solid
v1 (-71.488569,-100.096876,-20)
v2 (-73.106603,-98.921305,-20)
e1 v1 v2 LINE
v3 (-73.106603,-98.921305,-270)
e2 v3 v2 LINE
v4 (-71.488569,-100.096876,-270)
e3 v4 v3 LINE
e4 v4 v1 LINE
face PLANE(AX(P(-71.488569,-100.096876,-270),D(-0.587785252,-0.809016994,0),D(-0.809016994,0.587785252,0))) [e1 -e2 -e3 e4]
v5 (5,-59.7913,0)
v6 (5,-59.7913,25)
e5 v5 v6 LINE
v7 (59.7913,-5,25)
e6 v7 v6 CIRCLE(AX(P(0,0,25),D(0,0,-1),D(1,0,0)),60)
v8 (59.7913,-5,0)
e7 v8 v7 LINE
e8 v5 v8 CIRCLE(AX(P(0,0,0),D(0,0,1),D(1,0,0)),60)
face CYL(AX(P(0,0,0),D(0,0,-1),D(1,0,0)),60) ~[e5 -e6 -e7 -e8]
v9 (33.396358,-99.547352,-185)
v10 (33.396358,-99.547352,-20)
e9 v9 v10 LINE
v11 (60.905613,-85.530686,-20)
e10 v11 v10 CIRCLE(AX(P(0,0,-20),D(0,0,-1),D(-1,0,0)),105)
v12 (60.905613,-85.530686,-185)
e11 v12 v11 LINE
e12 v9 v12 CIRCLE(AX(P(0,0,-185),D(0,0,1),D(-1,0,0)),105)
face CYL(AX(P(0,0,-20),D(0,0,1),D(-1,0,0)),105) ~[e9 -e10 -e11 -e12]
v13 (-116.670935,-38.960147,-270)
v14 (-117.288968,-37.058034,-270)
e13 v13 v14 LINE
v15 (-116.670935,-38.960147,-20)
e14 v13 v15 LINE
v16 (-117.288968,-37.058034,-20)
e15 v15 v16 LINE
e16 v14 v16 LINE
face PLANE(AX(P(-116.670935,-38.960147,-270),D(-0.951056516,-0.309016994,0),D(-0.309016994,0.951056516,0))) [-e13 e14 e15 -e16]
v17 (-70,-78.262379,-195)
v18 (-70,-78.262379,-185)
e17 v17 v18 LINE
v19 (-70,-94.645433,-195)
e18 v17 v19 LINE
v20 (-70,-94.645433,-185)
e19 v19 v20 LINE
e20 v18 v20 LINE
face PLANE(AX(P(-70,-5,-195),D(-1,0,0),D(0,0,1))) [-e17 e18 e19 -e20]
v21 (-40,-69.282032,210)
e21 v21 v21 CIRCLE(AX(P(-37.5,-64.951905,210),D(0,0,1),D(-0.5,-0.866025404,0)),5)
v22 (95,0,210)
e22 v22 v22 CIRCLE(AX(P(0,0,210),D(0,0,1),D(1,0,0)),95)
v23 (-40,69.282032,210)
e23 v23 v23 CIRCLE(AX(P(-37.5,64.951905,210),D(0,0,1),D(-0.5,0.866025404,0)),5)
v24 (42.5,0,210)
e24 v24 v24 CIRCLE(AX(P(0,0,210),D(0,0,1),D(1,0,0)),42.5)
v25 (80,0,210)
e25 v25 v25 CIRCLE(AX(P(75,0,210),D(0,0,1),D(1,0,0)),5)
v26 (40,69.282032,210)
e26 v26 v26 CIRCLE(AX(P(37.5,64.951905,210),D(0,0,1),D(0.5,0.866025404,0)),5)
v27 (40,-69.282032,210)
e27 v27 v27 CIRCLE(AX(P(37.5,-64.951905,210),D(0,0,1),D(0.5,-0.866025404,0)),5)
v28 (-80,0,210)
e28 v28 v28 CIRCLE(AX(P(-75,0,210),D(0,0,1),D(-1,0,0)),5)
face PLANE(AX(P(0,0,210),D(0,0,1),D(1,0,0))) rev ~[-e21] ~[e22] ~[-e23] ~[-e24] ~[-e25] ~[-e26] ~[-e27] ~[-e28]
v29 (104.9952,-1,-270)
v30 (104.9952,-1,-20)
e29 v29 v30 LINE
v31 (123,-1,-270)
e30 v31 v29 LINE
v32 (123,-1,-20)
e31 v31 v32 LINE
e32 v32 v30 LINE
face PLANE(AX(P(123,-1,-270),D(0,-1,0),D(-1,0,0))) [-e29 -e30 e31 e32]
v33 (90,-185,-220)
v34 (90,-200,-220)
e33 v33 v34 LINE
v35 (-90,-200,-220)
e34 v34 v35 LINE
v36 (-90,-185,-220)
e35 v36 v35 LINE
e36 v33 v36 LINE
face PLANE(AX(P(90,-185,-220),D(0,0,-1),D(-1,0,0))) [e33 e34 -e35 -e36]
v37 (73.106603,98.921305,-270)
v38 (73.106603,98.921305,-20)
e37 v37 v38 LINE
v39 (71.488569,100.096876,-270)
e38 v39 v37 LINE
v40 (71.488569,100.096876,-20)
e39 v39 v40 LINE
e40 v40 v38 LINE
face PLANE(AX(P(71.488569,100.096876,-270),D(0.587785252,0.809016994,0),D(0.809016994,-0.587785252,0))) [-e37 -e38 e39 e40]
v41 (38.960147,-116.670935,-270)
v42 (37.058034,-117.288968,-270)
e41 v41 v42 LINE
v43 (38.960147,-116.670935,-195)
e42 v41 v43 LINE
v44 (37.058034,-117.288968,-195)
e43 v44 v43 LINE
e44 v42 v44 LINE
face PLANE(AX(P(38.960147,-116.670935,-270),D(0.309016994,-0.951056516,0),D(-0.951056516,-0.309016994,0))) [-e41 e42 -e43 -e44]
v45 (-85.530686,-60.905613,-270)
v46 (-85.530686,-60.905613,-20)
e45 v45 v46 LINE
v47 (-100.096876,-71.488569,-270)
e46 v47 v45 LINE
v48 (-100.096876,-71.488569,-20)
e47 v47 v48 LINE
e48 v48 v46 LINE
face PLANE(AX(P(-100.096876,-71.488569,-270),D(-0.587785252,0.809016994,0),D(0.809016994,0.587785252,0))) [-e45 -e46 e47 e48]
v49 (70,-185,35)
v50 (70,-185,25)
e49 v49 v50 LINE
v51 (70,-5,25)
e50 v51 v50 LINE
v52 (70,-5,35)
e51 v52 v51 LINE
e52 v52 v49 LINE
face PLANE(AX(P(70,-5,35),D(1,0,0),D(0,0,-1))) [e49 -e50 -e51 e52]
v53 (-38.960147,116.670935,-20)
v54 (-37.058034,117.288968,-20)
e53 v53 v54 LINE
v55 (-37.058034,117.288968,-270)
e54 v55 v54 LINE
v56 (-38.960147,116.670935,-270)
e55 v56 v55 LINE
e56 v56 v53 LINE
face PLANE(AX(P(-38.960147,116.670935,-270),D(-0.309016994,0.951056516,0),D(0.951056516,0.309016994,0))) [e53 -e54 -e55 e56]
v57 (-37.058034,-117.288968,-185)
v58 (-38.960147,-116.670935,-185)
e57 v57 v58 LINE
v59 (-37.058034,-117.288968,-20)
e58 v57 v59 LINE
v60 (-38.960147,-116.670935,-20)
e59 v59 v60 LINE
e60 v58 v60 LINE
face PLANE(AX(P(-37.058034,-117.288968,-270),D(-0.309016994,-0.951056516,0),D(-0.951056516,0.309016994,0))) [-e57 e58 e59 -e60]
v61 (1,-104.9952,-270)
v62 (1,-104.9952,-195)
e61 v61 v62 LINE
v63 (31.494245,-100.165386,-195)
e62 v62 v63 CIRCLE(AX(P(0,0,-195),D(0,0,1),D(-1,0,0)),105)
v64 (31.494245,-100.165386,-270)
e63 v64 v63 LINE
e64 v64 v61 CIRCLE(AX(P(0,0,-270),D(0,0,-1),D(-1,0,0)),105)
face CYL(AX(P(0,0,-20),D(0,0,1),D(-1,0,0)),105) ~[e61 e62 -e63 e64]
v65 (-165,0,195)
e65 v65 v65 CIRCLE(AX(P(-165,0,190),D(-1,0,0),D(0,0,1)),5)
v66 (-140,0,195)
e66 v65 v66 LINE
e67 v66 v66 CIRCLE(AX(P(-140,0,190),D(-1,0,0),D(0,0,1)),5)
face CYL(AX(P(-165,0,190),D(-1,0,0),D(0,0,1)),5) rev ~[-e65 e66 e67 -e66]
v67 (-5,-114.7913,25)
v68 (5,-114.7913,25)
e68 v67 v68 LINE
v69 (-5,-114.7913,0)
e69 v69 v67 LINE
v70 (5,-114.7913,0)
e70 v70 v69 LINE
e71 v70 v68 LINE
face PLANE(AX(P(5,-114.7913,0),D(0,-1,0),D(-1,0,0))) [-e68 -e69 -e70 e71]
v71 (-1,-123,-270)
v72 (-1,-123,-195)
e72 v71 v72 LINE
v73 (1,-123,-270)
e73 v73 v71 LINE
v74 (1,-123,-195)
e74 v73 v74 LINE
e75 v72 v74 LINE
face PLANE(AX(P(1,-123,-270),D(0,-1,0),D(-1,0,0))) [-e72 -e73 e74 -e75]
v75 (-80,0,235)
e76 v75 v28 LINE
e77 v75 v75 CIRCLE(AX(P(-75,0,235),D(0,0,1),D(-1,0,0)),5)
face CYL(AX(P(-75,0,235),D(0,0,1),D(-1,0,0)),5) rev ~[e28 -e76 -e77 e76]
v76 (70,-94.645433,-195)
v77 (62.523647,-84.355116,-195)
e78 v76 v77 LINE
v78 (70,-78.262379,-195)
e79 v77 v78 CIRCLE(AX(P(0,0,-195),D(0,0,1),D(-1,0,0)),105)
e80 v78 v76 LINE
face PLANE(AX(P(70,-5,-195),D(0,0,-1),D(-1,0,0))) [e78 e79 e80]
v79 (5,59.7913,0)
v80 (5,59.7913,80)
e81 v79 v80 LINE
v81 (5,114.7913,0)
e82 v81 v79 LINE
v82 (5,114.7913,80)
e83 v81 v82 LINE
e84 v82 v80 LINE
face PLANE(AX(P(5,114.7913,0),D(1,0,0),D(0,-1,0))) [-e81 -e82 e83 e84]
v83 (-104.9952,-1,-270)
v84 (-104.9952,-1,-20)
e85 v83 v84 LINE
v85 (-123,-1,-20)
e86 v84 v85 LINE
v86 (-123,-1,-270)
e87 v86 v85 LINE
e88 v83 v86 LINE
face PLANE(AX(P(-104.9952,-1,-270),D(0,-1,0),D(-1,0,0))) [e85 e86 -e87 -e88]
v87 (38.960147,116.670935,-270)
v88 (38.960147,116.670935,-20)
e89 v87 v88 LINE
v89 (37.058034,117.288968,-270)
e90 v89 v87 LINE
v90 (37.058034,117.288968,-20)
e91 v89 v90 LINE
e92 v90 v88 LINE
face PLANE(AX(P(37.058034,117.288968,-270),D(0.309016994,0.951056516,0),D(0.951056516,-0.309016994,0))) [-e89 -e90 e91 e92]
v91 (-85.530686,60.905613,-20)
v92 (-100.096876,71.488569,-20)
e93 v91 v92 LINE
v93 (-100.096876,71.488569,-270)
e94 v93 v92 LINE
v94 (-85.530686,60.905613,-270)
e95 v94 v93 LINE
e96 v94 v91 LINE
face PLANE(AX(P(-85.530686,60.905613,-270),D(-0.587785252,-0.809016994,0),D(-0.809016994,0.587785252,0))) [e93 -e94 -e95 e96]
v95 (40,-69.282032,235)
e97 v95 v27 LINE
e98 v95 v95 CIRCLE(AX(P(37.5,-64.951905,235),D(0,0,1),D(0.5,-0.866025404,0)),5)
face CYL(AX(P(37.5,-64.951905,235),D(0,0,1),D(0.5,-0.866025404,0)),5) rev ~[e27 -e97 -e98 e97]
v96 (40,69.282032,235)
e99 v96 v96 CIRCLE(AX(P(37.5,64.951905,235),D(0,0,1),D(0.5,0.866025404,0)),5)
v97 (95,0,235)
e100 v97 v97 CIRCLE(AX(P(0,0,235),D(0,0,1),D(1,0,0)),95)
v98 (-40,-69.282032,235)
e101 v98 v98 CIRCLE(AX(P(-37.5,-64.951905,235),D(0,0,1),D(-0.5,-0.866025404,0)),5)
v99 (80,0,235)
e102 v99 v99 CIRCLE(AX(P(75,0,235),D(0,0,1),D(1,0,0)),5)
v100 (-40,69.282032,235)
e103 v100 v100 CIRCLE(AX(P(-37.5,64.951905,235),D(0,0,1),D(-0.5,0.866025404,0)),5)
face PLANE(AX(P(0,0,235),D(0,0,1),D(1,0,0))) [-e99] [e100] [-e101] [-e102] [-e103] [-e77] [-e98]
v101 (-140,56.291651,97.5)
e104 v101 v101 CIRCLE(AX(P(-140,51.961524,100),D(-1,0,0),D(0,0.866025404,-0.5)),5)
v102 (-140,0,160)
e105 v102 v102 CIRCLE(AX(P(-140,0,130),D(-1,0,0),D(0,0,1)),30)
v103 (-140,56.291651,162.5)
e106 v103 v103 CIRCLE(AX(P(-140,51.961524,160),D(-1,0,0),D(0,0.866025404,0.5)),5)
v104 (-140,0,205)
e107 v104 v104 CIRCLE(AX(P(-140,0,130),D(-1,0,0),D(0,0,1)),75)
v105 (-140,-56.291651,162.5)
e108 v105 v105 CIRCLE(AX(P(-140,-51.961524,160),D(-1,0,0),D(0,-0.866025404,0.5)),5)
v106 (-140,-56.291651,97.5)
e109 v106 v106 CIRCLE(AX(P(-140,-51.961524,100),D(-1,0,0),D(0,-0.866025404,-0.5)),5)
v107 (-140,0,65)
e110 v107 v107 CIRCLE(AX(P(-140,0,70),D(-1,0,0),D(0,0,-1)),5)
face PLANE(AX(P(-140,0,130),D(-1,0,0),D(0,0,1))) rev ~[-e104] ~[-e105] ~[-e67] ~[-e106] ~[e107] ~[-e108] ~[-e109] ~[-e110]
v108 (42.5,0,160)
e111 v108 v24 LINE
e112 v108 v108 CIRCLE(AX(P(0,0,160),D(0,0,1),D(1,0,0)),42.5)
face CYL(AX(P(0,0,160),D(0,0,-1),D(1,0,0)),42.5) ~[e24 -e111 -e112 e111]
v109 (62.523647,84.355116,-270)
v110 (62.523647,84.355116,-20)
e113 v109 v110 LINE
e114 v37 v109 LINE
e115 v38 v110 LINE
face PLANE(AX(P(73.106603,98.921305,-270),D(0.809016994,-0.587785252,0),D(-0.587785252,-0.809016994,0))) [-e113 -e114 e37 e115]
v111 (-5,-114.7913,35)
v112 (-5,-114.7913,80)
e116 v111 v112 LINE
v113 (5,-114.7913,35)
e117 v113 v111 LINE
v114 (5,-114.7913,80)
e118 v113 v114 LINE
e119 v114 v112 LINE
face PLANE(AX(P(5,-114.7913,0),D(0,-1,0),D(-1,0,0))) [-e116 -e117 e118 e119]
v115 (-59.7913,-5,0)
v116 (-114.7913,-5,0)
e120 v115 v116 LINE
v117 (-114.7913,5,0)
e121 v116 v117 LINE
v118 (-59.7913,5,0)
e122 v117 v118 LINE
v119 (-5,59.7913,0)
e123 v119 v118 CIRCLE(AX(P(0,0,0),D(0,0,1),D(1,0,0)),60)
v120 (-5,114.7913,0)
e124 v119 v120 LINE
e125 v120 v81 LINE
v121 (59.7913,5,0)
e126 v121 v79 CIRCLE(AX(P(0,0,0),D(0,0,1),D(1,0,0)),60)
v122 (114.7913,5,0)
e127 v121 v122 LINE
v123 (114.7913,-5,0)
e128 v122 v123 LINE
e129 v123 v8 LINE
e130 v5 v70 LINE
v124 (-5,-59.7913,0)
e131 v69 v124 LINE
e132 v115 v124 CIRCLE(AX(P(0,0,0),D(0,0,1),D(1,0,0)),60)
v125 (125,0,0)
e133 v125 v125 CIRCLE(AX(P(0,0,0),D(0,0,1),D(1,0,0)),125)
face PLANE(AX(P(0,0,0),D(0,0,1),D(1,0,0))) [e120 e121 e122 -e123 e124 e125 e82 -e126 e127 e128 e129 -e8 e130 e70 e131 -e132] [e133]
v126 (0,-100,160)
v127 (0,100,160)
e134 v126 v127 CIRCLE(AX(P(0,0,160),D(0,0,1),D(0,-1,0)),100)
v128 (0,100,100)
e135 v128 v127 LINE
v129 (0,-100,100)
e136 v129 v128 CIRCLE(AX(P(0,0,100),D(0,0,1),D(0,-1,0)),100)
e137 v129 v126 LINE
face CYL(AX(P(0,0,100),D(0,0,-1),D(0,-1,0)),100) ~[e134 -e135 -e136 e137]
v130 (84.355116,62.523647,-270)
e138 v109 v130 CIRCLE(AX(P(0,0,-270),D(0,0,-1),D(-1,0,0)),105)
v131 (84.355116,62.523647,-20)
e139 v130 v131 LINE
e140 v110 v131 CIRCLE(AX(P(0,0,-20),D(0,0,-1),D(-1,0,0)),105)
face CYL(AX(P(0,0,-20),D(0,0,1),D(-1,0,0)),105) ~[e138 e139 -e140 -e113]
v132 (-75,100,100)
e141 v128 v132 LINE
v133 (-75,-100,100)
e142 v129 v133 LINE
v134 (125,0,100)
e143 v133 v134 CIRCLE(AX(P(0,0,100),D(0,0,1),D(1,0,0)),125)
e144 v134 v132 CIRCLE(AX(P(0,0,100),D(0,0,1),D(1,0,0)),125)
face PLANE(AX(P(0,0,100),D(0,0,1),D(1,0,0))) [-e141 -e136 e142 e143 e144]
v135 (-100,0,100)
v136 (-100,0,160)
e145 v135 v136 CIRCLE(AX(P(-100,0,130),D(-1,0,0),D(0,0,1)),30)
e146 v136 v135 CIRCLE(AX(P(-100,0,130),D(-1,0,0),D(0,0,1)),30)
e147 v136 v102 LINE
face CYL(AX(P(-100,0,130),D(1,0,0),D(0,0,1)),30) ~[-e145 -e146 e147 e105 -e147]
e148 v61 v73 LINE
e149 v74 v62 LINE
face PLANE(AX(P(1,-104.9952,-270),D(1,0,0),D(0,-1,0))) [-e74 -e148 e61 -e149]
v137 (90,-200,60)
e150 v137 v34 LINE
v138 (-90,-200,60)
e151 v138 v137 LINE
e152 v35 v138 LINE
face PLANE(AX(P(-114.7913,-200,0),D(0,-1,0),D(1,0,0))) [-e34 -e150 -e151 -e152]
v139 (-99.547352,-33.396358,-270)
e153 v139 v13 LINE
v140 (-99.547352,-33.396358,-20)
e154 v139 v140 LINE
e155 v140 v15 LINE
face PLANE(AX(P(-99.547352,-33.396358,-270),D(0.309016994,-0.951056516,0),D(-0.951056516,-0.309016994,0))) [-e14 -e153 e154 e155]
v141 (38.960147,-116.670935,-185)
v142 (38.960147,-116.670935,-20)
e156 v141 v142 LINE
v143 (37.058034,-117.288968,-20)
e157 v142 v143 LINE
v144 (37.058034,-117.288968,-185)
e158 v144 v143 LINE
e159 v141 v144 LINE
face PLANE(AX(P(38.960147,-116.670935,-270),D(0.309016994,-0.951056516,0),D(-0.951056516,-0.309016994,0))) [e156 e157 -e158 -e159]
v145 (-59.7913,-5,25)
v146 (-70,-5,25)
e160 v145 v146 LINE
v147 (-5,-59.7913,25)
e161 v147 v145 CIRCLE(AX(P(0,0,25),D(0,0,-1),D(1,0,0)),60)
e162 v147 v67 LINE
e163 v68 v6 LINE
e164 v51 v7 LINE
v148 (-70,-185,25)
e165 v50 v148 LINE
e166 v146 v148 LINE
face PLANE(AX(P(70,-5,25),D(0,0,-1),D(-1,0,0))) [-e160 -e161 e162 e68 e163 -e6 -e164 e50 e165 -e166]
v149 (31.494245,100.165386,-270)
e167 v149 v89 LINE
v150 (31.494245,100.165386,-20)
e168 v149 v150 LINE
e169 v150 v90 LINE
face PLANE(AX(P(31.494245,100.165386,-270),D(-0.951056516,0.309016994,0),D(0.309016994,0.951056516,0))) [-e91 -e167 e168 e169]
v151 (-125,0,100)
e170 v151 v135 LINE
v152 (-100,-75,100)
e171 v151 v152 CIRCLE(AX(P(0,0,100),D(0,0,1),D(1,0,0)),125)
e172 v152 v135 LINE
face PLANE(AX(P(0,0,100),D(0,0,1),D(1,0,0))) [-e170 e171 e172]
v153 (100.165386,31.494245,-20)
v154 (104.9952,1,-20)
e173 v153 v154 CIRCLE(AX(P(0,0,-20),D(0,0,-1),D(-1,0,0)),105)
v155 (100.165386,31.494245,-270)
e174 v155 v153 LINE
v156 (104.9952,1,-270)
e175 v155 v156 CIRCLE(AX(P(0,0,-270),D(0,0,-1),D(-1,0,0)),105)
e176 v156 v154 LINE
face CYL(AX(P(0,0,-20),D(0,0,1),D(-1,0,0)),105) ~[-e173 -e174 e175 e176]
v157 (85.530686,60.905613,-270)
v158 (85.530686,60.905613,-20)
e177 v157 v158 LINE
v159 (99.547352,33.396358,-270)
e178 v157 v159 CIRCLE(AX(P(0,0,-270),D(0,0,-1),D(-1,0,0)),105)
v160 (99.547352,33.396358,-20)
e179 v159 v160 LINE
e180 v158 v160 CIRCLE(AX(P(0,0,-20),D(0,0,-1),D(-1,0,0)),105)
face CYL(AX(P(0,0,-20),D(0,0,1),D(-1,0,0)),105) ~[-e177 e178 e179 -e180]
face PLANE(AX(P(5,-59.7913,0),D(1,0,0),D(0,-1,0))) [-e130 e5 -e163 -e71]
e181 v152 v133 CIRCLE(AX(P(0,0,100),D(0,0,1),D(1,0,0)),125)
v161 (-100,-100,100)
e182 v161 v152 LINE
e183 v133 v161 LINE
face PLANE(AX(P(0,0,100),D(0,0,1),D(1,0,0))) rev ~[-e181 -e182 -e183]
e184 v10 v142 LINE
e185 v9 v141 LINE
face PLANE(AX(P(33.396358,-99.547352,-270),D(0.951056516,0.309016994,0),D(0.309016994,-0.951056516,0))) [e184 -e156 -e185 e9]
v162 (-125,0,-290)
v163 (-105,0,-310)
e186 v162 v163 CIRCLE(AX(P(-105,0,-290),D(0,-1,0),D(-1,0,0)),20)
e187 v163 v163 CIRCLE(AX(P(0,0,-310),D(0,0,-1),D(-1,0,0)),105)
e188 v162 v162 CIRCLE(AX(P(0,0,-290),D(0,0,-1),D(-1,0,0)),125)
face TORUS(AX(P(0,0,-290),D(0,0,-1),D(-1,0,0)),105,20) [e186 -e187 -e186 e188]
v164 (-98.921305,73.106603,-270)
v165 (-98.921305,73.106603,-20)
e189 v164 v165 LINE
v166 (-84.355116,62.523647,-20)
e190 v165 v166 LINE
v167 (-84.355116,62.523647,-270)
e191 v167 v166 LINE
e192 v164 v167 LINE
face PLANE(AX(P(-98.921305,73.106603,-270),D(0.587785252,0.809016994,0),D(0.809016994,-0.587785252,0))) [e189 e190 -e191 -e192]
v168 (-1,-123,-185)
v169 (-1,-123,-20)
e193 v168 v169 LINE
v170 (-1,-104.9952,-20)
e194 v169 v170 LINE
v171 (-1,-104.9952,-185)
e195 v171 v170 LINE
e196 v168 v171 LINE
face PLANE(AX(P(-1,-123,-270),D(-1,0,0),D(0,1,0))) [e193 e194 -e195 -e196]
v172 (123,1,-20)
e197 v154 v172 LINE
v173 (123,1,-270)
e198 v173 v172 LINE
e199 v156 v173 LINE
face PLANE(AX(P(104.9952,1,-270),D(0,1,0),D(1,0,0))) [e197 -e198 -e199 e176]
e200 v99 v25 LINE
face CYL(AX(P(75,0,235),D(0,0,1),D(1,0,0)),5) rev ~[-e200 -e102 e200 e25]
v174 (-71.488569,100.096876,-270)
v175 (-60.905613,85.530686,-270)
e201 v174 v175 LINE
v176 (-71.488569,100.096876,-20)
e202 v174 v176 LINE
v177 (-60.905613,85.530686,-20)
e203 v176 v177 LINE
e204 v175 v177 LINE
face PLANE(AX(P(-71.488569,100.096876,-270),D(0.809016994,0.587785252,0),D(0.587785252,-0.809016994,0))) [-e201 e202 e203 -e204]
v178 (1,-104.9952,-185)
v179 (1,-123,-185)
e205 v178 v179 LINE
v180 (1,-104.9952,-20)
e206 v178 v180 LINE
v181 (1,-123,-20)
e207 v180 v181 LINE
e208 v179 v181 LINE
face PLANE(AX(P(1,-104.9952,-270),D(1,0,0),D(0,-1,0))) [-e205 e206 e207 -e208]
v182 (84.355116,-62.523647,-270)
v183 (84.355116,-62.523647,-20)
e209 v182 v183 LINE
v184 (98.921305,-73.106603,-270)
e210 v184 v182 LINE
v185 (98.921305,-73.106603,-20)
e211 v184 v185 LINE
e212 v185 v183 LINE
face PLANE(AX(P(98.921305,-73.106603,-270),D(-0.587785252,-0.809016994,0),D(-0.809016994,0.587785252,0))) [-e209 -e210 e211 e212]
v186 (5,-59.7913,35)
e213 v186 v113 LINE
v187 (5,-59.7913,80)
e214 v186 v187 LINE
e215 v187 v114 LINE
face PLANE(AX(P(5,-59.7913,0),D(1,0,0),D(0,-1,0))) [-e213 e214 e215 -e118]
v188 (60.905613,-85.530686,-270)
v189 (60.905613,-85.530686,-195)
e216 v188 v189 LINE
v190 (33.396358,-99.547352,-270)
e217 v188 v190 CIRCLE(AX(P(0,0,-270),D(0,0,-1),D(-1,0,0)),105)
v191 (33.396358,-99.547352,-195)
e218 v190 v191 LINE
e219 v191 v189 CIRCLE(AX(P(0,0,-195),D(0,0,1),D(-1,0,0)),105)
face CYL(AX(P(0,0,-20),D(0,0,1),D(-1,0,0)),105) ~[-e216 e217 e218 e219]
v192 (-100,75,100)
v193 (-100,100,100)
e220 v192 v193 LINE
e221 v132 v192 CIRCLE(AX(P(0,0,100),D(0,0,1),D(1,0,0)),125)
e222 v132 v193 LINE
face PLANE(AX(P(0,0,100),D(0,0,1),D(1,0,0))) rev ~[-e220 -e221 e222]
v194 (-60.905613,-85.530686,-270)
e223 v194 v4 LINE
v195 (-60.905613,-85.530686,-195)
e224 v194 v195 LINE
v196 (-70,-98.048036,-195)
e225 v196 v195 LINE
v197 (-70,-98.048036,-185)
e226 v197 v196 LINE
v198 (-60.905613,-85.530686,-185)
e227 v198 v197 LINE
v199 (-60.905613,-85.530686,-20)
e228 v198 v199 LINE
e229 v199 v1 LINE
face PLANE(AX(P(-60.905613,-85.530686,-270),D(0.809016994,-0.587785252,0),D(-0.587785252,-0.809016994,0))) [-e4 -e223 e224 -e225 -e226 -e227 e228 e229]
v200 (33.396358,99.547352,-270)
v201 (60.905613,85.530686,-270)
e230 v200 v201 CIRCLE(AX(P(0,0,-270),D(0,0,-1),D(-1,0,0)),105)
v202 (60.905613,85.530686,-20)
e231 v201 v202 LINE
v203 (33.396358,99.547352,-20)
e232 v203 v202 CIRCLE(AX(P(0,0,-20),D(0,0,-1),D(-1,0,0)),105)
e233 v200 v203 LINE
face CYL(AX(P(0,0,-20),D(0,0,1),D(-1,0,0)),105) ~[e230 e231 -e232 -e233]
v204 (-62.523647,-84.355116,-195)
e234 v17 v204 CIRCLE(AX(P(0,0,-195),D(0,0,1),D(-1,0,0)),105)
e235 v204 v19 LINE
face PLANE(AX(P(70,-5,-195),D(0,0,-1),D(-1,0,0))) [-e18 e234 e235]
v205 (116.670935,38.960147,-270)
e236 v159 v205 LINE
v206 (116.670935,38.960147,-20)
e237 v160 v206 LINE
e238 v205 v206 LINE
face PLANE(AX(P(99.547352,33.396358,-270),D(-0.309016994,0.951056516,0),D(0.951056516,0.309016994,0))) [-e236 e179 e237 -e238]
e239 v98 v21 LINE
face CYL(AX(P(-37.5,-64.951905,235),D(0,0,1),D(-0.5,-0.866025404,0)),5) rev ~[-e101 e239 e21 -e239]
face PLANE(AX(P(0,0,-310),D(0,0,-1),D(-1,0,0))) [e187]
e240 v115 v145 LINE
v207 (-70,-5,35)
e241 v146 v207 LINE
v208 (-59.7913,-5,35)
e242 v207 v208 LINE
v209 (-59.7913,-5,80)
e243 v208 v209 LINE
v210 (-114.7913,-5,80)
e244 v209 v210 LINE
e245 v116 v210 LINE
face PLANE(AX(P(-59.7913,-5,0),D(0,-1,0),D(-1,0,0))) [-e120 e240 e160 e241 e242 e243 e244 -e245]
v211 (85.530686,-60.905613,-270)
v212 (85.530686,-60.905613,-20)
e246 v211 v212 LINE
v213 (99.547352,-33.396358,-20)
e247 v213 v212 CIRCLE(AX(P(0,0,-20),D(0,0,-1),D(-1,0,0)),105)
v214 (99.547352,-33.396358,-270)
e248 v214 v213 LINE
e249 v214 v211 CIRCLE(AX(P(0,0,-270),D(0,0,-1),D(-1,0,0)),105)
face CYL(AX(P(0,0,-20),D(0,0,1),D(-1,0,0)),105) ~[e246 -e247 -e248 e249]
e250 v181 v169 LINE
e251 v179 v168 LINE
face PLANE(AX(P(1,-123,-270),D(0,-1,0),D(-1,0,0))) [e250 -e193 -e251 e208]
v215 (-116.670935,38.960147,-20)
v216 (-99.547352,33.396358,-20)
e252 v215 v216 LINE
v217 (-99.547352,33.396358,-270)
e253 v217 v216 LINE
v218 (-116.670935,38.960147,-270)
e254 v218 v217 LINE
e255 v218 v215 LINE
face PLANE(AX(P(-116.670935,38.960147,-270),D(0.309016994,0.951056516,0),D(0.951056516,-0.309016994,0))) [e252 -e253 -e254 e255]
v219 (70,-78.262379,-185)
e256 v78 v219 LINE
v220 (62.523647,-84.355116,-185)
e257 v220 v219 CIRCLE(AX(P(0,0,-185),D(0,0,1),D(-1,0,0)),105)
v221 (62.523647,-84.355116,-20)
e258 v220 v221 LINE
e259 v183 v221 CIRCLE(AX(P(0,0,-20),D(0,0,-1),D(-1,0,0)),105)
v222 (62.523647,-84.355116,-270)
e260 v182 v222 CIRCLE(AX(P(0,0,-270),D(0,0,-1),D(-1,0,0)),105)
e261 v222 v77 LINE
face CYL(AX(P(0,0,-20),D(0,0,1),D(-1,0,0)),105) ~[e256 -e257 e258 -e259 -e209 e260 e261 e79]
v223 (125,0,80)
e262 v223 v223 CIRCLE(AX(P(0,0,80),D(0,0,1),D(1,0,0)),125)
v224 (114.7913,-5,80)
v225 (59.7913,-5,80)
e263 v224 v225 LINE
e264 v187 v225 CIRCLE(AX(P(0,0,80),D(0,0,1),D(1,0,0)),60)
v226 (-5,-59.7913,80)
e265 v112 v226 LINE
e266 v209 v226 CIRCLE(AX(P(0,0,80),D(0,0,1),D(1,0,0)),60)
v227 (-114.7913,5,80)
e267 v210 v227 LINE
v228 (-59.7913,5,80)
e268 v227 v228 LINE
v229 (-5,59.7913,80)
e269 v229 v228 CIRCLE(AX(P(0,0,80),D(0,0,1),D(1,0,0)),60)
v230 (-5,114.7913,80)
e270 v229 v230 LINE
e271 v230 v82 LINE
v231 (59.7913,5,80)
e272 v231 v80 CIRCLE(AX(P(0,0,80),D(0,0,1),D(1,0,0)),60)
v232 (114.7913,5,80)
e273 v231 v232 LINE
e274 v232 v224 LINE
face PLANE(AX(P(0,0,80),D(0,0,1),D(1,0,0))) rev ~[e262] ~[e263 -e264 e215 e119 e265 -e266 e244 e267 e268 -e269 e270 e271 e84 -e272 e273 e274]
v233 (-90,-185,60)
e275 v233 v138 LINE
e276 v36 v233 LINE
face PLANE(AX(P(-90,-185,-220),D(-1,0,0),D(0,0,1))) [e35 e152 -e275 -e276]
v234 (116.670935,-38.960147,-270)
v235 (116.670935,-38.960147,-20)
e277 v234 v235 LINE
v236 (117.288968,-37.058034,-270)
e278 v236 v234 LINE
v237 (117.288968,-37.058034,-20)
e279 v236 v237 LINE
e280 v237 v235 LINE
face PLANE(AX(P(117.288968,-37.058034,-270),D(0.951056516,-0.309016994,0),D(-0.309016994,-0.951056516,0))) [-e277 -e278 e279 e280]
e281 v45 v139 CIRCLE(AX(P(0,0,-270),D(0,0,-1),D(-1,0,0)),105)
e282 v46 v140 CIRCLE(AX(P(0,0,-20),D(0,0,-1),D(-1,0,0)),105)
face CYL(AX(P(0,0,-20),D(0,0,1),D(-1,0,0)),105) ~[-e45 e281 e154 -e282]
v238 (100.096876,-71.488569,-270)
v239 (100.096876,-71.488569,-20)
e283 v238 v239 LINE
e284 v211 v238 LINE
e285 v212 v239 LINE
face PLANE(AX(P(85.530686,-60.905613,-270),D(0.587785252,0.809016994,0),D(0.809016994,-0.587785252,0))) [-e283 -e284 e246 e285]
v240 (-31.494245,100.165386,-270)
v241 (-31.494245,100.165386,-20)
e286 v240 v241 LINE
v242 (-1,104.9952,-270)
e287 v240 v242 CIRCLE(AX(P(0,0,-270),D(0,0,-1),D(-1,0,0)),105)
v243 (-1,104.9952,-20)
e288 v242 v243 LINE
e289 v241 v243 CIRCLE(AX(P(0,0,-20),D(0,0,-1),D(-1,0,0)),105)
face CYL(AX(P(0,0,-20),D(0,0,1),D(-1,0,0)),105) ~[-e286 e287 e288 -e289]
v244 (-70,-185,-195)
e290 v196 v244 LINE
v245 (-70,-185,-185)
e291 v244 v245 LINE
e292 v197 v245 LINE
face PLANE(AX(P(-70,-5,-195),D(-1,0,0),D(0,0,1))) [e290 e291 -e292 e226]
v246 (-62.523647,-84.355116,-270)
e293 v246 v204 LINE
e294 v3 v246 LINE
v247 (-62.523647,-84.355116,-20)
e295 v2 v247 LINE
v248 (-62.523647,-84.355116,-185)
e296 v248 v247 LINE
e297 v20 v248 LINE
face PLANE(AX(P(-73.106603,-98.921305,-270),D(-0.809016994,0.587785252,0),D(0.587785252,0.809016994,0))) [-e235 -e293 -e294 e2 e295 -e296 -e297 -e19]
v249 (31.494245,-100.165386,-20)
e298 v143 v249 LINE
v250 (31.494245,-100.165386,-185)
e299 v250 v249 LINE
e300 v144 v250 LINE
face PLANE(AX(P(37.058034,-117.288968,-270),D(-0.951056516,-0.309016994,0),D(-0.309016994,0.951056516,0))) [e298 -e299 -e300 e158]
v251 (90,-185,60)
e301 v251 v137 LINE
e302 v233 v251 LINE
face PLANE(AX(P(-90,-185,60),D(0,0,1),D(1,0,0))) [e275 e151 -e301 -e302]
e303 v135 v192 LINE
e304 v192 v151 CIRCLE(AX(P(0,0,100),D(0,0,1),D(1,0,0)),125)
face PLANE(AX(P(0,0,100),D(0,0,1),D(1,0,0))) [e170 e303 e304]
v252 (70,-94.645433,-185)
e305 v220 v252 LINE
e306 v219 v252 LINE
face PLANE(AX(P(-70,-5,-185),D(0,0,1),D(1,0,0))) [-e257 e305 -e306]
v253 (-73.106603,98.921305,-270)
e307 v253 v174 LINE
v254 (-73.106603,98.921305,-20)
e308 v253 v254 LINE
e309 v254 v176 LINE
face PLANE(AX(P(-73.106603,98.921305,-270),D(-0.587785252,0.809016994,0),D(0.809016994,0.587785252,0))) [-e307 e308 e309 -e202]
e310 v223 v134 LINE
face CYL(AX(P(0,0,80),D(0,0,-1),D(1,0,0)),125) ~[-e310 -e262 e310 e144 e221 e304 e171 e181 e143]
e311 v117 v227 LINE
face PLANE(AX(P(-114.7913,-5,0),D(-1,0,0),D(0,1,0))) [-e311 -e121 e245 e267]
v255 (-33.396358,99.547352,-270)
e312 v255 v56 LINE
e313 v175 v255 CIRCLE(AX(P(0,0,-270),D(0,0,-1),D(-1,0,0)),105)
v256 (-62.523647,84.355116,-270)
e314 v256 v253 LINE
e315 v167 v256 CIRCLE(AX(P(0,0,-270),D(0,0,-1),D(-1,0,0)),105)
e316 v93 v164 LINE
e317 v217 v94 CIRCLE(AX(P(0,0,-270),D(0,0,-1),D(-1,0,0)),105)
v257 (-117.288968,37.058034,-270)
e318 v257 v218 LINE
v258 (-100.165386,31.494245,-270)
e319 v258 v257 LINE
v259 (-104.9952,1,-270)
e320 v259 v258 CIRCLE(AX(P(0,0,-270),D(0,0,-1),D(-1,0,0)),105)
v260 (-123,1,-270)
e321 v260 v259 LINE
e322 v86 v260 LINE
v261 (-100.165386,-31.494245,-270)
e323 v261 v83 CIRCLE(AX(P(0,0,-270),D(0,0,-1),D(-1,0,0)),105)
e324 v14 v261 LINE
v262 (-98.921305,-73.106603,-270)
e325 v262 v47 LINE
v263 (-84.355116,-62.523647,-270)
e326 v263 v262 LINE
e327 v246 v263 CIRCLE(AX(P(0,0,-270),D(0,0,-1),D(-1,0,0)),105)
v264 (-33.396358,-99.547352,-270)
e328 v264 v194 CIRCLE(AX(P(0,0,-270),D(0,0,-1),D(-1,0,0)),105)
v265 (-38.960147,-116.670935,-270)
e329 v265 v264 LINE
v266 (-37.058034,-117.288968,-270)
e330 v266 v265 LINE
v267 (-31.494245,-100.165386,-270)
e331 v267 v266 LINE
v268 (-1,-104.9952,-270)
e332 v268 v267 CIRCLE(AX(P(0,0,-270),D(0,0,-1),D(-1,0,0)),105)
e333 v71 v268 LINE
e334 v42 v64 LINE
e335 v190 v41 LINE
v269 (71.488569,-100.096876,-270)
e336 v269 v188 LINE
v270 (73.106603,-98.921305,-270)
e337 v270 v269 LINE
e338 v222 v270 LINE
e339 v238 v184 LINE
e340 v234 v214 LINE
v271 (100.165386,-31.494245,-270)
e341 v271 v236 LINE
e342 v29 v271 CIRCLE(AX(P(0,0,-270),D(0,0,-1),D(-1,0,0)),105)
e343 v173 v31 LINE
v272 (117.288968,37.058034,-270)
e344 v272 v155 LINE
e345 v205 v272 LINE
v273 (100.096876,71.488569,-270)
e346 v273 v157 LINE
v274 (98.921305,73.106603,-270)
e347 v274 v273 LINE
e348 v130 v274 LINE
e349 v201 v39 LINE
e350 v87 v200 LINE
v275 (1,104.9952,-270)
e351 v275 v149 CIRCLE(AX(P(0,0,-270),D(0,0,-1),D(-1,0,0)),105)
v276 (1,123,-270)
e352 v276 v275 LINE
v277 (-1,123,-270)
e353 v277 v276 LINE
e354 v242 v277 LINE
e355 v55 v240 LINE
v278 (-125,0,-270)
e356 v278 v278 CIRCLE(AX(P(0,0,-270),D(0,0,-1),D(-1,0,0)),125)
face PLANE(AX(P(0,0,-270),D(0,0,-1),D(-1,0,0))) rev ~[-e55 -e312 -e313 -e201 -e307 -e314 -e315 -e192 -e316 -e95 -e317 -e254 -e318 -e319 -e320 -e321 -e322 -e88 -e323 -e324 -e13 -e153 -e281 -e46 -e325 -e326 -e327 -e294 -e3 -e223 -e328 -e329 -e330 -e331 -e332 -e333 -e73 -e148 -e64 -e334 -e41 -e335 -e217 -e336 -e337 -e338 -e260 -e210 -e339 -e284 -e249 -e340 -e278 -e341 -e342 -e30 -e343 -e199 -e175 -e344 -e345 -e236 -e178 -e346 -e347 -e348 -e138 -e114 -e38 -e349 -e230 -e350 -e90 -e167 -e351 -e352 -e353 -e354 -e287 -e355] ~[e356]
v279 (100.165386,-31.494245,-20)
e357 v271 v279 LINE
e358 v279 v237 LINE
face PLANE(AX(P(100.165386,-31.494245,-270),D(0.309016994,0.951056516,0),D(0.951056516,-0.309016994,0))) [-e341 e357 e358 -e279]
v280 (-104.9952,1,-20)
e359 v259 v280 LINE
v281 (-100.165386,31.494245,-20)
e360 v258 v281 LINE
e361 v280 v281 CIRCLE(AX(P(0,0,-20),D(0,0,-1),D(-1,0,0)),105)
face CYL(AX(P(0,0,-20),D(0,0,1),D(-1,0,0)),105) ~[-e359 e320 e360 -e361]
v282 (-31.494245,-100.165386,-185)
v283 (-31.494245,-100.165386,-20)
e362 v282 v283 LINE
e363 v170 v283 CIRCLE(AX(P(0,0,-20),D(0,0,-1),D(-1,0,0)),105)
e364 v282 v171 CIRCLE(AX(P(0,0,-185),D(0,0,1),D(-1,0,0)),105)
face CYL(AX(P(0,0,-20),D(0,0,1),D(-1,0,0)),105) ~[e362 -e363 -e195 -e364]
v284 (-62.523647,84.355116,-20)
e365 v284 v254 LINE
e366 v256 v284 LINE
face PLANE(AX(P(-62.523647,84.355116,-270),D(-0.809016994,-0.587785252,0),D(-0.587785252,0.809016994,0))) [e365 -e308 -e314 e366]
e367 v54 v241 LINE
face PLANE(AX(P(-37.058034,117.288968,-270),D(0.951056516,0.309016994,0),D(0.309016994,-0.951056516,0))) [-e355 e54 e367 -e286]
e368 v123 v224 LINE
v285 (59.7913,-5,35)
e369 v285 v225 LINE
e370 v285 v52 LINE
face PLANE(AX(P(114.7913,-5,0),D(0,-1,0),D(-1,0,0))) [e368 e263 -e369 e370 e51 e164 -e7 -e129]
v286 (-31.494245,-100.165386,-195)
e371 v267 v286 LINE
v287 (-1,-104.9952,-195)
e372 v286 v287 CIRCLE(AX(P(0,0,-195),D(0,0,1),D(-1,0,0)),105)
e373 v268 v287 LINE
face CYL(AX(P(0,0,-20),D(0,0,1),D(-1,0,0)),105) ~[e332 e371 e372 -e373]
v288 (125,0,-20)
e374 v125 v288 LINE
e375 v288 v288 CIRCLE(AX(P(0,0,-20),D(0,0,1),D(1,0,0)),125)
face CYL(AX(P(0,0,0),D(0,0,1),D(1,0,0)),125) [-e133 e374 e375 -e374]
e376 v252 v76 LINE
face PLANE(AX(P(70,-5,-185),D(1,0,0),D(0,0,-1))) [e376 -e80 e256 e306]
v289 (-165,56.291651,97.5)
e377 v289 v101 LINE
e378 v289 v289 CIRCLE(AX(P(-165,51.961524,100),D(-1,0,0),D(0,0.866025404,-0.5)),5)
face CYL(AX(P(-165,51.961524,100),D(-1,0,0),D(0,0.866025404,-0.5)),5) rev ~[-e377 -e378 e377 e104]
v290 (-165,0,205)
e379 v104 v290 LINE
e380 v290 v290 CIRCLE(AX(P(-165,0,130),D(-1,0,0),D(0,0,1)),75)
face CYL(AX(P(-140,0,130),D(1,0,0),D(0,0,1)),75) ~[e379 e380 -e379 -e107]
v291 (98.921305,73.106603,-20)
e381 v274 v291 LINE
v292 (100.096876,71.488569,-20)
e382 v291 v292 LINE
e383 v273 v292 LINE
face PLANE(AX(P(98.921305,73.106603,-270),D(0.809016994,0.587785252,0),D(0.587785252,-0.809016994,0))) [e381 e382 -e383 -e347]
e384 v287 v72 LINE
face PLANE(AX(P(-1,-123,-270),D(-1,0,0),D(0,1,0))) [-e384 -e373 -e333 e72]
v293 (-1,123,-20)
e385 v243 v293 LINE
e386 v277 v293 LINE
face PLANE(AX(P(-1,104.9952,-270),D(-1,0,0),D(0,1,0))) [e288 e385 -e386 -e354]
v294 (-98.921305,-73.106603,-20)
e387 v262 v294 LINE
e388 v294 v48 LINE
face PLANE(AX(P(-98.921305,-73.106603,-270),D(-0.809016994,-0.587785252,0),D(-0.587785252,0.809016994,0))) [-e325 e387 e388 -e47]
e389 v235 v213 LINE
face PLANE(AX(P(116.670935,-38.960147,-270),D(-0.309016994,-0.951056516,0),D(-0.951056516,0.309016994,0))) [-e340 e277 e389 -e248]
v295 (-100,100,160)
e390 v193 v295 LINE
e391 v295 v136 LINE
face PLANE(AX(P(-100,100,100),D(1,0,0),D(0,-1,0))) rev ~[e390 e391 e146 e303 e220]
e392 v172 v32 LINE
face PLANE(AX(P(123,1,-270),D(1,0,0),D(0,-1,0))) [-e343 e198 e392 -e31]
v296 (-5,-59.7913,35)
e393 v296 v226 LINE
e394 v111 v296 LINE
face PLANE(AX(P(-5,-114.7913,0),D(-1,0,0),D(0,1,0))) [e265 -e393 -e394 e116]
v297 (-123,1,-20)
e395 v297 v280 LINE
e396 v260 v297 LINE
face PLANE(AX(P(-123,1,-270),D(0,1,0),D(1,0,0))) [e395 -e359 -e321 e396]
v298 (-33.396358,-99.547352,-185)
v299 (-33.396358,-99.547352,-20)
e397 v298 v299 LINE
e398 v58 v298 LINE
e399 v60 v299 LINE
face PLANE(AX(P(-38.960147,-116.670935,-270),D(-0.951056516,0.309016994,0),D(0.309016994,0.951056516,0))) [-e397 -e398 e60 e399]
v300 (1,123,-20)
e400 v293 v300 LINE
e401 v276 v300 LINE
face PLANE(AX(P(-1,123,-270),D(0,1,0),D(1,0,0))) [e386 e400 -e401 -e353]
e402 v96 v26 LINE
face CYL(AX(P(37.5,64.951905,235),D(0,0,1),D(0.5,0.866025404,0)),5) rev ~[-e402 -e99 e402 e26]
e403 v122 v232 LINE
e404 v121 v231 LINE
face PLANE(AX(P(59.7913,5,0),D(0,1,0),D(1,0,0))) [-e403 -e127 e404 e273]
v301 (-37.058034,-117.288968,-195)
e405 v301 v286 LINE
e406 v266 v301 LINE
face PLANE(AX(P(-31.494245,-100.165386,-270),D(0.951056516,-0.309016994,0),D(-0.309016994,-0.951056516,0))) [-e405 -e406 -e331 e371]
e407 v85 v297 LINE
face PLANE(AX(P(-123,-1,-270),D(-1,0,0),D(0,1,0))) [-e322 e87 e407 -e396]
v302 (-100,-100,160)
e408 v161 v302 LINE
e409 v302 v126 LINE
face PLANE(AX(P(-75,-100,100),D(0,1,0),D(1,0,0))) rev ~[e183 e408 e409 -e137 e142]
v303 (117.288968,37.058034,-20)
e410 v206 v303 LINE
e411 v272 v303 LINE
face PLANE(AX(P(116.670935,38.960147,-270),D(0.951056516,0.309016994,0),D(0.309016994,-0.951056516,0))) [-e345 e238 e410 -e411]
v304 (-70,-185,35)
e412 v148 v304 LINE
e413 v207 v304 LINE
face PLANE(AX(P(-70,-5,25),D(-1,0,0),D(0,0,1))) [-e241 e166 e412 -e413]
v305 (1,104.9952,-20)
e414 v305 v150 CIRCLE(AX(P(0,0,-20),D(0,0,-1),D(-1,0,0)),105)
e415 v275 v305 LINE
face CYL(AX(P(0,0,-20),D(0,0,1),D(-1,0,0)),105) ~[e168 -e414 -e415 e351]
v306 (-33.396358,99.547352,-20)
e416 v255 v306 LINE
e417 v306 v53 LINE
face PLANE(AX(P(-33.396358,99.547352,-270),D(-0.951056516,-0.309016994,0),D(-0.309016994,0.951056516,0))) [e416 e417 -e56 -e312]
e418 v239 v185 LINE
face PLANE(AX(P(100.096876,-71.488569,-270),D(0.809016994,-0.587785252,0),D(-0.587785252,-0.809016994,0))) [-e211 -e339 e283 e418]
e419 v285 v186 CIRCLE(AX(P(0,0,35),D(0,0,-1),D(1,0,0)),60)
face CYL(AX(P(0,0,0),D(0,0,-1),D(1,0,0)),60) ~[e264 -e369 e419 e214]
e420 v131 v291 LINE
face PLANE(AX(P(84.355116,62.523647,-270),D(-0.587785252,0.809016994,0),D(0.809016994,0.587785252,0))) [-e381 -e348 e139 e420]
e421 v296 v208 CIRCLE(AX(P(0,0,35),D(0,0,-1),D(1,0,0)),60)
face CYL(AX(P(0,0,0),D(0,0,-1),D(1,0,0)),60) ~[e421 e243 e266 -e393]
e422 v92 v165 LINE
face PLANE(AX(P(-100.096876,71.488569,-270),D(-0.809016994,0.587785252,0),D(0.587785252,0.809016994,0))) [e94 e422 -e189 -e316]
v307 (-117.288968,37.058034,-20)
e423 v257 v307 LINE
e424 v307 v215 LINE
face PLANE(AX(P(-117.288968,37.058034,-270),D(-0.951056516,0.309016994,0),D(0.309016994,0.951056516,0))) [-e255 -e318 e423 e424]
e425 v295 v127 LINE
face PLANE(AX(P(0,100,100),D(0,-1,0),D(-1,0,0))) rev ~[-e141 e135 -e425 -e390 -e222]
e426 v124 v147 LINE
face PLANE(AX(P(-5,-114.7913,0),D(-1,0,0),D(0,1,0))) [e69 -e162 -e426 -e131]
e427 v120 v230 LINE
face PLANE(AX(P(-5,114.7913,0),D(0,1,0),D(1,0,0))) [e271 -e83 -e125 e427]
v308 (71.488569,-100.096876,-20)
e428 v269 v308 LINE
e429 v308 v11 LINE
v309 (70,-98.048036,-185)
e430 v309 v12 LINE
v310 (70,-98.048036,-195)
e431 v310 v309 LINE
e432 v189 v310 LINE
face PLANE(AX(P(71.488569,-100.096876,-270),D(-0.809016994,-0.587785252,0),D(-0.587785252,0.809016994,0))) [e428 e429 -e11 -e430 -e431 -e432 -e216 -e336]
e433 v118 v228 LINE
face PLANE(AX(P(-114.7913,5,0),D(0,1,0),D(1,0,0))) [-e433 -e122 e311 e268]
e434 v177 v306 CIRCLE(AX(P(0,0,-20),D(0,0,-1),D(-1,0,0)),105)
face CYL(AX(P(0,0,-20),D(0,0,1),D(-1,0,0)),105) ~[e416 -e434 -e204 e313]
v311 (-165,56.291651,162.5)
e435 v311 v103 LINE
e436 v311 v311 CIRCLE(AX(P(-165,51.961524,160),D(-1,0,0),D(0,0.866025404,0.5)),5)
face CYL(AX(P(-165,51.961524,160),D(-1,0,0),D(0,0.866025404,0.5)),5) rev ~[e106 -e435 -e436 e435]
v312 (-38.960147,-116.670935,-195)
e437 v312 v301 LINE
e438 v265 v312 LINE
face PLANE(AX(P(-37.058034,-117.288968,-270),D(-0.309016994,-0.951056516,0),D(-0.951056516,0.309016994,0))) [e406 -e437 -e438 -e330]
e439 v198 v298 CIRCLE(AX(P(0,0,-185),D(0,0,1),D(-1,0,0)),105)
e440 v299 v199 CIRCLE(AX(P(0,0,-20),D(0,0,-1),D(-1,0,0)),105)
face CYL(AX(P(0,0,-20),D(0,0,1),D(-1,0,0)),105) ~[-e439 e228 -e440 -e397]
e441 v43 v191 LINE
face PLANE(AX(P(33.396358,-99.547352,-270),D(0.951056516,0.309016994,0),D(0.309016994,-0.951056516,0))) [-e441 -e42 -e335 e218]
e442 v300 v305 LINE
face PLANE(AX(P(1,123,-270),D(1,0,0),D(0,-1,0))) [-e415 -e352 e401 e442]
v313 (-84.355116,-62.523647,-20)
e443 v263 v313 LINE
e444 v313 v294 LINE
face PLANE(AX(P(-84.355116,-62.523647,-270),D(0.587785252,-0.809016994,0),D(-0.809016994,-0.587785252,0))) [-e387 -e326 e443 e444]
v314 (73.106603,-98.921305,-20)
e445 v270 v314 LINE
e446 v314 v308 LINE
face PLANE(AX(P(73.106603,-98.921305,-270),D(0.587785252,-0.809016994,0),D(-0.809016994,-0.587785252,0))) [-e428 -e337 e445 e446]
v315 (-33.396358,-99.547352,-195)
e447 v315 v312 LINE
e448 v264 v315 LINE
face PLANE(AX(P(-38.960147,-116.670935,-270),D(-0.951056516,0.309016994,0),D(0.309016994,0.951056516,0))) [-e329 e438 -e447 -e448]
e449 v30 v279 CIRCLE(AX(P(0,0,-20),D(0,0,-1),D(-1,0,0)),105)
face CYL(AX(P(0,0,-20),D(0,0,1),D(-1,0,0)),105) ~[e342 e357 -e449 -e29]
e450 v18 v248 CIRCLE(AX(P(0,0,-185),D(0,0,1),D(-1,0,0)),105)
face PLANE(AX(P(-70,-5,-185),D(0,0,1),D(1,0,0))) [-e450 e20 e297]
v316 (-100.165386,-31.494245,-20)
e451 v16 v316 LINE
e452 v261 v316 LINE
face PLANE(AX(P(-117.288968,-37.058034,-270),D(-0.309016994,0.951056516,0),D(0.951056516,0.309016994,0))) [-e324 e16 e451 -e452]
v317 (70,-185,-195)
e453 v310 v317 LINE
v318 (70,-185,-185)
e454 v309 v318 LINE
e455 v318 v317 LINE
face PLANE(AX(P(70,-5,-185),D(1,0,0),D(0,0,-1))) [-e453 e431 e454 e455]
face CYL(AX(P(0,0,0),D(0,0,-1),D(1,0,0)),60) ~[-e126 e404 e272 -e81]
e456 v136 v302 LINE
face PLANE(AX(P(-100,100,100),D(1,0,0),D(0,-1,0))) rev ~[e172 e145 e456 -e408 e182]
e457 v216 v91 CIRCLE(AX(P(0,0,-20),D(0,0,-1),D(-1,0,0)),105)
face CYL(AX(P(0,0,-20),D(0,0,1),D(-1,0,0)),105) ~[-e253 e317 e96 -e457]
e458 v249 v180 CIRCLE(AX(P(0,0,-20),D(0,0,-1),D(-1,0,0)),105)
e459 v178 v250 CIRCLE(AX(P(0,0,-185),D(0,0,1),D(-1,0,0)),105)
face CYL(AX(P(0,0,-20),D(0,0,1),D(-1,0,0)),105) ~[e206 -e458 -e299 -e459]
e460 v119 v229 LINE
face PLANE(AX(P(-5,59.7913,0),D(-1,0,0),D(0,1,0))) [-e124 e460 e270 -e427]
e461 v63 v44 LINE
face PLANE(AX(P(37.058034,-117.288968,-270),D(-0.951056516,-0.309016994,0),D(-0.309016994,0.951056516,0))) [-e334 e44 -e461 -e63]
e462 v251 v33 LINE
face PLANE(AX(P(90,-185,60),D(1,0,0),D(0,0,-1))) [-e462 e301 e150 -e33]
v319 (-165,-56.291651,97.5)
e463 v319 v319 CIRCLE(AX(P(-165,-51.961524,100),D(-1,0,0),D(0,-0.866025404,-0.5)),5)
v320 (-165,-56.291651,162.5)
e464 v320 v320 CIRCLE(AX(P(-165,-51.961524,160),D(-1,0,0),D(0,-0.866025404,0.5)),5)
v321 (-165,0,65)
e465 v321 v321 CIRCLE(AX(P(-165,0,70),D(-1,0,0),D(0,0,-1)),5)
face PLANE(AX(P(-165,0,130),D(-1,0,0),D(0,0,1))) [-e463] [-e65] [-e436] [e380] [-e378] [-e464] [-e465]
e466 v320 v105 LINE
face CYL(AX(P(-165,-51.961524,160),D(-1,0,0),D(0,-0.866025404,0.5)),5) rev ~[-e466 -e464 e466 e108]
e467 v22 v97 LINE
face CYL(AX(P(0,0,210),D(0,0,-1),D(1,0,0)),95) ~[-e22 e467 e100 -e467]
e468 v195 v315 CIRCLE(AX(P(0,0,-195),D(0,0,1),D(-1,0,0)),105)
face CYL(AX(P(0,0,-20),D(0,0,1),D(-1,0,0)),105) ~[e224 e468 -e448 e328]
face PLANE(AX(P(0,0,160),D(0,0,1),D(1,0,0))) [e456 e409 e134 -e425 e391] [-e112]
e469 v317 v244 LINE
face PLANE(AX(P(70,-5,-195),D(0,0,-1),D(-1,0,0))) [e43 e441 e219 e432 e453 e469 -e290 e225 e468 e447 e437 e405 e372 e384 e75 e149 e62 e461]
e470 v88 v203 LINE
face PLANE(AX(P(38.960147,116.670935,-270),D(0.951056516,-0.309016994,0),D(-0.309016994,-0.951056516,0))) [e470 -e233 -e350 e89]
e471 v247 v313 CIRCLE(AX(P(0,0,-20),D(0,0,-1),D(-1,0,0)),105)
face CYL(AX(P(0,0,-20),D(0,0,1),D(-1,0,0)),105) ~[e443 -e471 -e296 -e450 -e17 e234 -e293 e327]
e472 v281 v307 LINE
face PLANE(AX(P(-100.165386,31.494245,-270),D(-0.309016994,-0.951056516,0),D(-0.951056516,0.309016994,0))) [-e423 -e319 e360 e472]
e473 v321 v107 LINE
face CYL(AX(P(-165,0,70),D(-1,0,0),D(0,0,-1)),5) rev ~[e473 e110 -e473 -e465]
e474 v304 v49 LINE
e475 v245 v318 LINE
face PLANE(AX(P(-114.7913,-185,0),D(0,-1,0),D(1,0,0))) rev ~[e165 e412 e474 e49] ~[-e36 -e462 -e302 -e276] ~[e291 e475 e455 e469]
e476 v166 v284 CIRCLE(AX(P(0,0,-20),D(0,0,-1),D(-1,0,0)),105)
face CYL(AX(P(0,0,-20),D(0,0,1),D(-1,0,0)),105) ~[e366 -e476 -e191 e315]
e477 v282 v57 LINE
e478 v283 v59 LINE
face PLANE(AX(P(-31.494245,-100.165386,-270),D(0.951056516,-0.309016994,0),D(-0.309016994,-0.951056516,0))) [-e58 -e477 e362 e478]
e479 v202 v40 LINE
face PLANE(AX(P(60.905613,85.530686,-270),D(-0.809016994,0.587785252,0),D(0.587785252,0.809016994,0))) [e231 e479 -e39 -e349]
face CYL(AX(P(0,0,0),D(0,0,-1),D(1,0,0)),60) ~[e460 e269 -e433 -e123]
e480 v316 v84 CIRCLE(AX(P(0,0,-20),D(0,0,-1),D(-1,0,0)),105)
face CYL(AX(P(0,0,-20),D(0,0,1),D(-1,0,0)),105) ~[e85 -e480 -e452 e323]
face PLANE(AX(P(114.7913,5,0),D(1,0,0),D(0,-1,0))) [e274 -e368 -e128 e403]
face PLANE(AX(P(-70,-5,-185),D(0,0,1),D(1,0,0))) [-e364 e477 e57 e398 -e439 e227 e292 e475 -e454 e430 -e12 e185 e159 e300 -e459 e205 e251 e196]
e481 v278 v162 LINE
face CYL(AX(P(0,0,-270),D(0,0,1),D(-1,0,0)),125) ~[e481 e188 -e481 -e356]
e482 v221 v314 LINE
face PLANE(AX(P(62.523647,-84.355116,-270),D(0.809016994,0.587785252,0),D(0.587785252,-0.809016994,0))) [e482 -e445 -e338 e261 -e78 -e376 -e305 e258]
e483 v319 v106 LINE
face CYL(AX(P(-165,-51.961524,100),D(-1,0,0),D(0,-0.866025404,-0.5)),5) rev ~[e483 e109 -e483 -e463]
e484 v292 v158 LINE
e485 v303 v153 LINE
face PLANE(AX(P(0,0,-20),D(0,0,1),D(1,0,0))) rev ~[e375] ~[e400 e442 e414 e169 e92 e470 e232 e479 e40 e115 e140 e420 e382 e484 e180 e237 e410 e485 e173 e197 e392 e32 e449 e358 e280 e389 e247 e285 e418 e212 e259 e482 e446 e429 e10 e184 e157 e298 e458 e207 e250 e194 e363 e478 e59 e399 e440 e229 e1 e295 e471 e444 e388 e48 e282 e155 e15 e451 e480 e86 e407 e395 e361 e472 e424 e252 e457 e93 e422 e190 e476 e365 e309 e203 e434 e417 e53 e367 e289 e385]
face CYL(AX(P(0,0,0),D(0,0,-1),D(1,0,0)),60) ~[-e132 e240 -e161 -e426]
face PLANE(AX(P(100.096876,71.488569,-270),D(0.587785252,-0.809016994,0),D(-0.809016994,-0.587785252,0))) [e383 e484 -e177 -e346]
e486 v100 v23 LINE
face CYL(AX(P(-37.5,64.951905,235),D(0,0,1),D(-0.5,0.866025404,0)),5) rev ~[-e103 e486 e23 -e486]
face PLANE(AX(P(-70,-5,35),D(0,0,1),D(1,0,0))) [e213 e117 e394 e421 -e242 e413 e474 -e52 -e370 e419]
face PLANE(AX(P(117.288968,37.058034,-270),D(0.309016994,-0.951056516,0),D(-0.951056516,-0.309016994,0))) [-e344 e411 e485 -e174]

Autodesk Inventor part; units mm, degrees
ref_plane "YZ Plane" through (0, 0, 0) normal (1, 0, 0) x (0, 1, 0)
ref_plane "XZ Plane" through (0, 0, 0) normal (0, 1, 0) x (-1, 0, 0)
ref_plane "XY Plane" through (0, 0, 0) normal (0, 0, 1) x (1, 0, 0)
sketch "草图2" plane through (0, 0, 0) normal (0, 0, 1) x (1, 0, 0)
  circle A0 centre (0, 0) radius 125
  dimension "d0" = 250
extrude "拉伸1" add sketch "草图2" against normal blind 20
sketch "草图3" plane through (0, 0, -20) normal (0, 0, -1) x (-1, 0, 0)
  circle A0 centre (0, 0) radius 125 projected
  circle A1 centre (0, 0) radius 105
  dimension "d3" = 210
extrude "拉伸2" add sketch "草图3" along normal blind 250 contours A1
sketch "草图4" plane through (0, 0, -270) normal (0, 0, -1) x (-1, 0, 0)
  circle A0 centre (0, 0) radius 105 projected
  line L0 (0, 0) -> (241.1428, 0) construction
  line L1 (104.9952, -1) -> (123, -1)
  line L2 (123, -1) -> (123, 1)
  line L3 (123, 1) -> (104.9952, 1)
  point P0 (105, 0)
  dimension "d9" = 1
  dimension "d10" = 1
  dimension "d11" = 18
extrude "拉伸3" add sketch "草图4" against normal blind 250 contours A0 L3 L2 L1
pattern_circular "环形阵列1" count 20 over 360 about axis through (0, 0, -20) along (0, 0, -1) of "拉伸3"
sketch "草图5" plane through (0, 0, -270) normal (0, 0, -1) x (-1, 0, 0)
  arc A0 (85.5307, -60.9056) -> (99.5474, -33.3964) centre (0, 0) ccw projected
  circle A1 centre (0, 0) radius 125
  dimension "d17" = 250
extrude "拉伸4" add sketch "草图5" along normal blind 40
fillet "圆角1" radius 20 1 edges at (125, 0, -310)
sketch "草图6" plane through (0, 0, 0) normal (0, 0, 1) x (1, 0, 0)
  circle A0 centre (0, 0) radius 125 projected
  circle A1 centre (0, 0) radius 60
  dimension "d21" = 120
extrude "拉伸5" add sketch "草图6" along normal blind 80 contours A1
sketch "草图7" plane through (0, 0, 0) normal (0, 0, 1) x (1, 0, 0)
  circle A0 centre (0, 0) radius 60 projected
  circle A1 centre (0, 0) radius 125 projected
  line L0 (90.252, 7.5987) -> (90.252, 7.5831)
  line L1 (59.5169, 7.5831) -> (59.5169, 7.5987)
  line L2 (59.7913, 5) -> (114.7913, 5)
  line L3 (114.7913, 5) -> (114.7913, -5)
  line L4 (114.7913, -5) -> (59.7913, -5)
  line L5 (0, 0) -> (125, 0) construction
  dimension "d24" = 55
  dimension "d25" = 5
  dimension "d26" = 5
extrude "拉伸6" add sketch "草图7" along normal blind 80 contours A0 L2 L3 L4
pattern_circular "环形阵列2" count 4 over 360 about axis through (0, 0, -20) along (0, 0, -1) of "拉伸6"
sketch "草图8" plane through (0, 0, 80) normal (0, 0, 1) x (1, 0, 0)
  arc A0 (-59.7913, -5) -> (-5, -59.7913) centre (0, 0) ccw projected
  circle A1 centre (0, 0) radius 125
  dimension "d32" = 250
extrude "拉伸7" add sketch "草图8" along normal blind 20
sketch "草图9" plane through (0, 0, 100) normal (0, 0, 1) x (1, 0, 0)
  circle A0 centre (0, 0) radius 125 projected
  arc A1 (0, -100) -> (0, 100) centre (0, 0) ccw
  line L0 (0, 100) -> (-100, 100)
  line L1 (-100, 100) -> (-100, -100)
  line L2 (-100, -100) -> (0, -100)
  dimension "d35" = 100
  dimension "d36" = 100
extrude "拉伸8" add sketch "草图9" along normal blind 60 contours L0 A1 L2 A0 L1 | A0 L1 L0 | L2 L1 A0
sketch "草图10" plane through (0, 0, 160) normal (0, 0, 1) x (1, 0, 0)
  arc A0 (0, -100) -> (0, 100) centre (0, 0) ccw projected
  circle A1 centre (0, 0) radius 42.5
  dimension "d39" = 85
extrude "拉伸9" add sketch "草图10" along normal blind 50
sketch "草图11" plane through (0, 0, 210) normal (0, 0, 1) x (1, 0, 0)
  circle A0 centre (0, 0) radius 42.5 projected
  circle A1 centre (0, 0) radius 95
  dimension "d42" = 190
extrude "拉伸10" add sketch "草图11" along normal blind 25 contours A0 | A1
sketch "草图12" plane through (0, 0, 235) normal (0, 0, 1) x (1, 0, 0)
  circle A0 centre (0, 0) radius 95 projected
  circle A1 centre (75, 0) radius 5
  dimension "d26" = 5
  dimension "d45" = 75
  dimension "d46" = 10
extrude "拉伸11" cut sketch "草图12" against normal blind 25 contours A1
pattern_circular "环形阵列3" count 6 over 360 about axis through (0, 0, -20) along (0, 0, -1) of "拉伸11"
sketch "草图13" plane through (-100, 75, 100) normal (-1, 0, 0) x (0, 0, 1)
  line L0 (0, -175) -> (60, -175) projected
  circle A0 centre (30, -75) radius 30
  point P0 (-100, -75)
  dimension "d52" = 100
  dimension "d53" = 60
extrude "拉伸12" add sketch "草图13" along normal blind 40
sketch "草图14" plane through (-140, 0, 130) normal (-1, 0, 0) x (0, 0, 1)
  circle A0 centre (0, 0) radius 30 projected
  circle A1 centre (0, 0) radius 75
  point P0 (-130, 0)
  dimension "d56" = 150
extrude "拉伸13" add sketch "草图14" along normal blind 25 contours A0 | A1
sketch "草图15" plane through (-165, 0, 130) normal (-1, 0, 0) x (0, 0, 1)
  circle A0 centre (0, 0) radius 75 projected
  circle A1 centre (60, 0) radius 5
  point P0 (-130, 0)
  dimension "d59" = 60
  dimension "d60" = 10
extrude "拉伸14" cut sketch "草图15" against normal blind 25 contours A1
pattern_circular "环形阵列4" count 6 over 360 about axis through (-140, 0, 130) along (-1, 0, 0) of "拉伸14"
sketch "草图16" plane through (-114.7913, -5, 0) normal (0, -1, 0) x (1, 0, 0)
  line L0 (55, 80) -> (0, 80) projected
  line L1 (44.7913, 35) -> (184.7913, 35)
  line L2 (184.7913, 35) -> (184.7913, 25)
  line L3 (184.7913, 25) -> (44.7913, 25)
  line L4 (44.7913, 25) -> (44.7913, 35)
  line L5 (44.7913, -185) -> (184.7913, -185)
  line L6 (184.7913, -185) -> (184.7913, -195)
  line L7 (184.7913, -195) -> (44.7913, -195)
  line L8 (44.7913, -195) -> (44.7913, -185)
  point P0 (114.7913, 0)
  dimension "d66" = 45
  dimension "d67" = 265
  dimension "d68" = 140
  dimension "d69" = 10
  dimension "d70" = 70
  dimension "d71" = 140
  dimension "d72" = 10
  dimension "d73" = 70
extrude "拉伸15" add sketch "草图16" along normal blind 180
sketch "草图17" plane through (-114.7913, -185, 0) normal (0, -1, 0) x (1, 0, 0)
  line L0 (24.7913, 60) -> (204.7913, 60)
  line L1 (204.7913, 60) -> (204.7913, -220)
  line L2 (204.7913, -220) -> (24.7913, -220)
  line L3 (24.7913, -220) -> (24.7913, 60)
  line L4 (184.7913, -195) -> (44.7913, -195) projected
  point P0 (114.7913, 0)
  dimension "d76" = 280
  dimension "d77" = 180
  dimension "d78" = 90
  dimension "d79" = 25
extrude "Sur" add sketch "草图17" along normal blind 15
properties part number "液压泵"
